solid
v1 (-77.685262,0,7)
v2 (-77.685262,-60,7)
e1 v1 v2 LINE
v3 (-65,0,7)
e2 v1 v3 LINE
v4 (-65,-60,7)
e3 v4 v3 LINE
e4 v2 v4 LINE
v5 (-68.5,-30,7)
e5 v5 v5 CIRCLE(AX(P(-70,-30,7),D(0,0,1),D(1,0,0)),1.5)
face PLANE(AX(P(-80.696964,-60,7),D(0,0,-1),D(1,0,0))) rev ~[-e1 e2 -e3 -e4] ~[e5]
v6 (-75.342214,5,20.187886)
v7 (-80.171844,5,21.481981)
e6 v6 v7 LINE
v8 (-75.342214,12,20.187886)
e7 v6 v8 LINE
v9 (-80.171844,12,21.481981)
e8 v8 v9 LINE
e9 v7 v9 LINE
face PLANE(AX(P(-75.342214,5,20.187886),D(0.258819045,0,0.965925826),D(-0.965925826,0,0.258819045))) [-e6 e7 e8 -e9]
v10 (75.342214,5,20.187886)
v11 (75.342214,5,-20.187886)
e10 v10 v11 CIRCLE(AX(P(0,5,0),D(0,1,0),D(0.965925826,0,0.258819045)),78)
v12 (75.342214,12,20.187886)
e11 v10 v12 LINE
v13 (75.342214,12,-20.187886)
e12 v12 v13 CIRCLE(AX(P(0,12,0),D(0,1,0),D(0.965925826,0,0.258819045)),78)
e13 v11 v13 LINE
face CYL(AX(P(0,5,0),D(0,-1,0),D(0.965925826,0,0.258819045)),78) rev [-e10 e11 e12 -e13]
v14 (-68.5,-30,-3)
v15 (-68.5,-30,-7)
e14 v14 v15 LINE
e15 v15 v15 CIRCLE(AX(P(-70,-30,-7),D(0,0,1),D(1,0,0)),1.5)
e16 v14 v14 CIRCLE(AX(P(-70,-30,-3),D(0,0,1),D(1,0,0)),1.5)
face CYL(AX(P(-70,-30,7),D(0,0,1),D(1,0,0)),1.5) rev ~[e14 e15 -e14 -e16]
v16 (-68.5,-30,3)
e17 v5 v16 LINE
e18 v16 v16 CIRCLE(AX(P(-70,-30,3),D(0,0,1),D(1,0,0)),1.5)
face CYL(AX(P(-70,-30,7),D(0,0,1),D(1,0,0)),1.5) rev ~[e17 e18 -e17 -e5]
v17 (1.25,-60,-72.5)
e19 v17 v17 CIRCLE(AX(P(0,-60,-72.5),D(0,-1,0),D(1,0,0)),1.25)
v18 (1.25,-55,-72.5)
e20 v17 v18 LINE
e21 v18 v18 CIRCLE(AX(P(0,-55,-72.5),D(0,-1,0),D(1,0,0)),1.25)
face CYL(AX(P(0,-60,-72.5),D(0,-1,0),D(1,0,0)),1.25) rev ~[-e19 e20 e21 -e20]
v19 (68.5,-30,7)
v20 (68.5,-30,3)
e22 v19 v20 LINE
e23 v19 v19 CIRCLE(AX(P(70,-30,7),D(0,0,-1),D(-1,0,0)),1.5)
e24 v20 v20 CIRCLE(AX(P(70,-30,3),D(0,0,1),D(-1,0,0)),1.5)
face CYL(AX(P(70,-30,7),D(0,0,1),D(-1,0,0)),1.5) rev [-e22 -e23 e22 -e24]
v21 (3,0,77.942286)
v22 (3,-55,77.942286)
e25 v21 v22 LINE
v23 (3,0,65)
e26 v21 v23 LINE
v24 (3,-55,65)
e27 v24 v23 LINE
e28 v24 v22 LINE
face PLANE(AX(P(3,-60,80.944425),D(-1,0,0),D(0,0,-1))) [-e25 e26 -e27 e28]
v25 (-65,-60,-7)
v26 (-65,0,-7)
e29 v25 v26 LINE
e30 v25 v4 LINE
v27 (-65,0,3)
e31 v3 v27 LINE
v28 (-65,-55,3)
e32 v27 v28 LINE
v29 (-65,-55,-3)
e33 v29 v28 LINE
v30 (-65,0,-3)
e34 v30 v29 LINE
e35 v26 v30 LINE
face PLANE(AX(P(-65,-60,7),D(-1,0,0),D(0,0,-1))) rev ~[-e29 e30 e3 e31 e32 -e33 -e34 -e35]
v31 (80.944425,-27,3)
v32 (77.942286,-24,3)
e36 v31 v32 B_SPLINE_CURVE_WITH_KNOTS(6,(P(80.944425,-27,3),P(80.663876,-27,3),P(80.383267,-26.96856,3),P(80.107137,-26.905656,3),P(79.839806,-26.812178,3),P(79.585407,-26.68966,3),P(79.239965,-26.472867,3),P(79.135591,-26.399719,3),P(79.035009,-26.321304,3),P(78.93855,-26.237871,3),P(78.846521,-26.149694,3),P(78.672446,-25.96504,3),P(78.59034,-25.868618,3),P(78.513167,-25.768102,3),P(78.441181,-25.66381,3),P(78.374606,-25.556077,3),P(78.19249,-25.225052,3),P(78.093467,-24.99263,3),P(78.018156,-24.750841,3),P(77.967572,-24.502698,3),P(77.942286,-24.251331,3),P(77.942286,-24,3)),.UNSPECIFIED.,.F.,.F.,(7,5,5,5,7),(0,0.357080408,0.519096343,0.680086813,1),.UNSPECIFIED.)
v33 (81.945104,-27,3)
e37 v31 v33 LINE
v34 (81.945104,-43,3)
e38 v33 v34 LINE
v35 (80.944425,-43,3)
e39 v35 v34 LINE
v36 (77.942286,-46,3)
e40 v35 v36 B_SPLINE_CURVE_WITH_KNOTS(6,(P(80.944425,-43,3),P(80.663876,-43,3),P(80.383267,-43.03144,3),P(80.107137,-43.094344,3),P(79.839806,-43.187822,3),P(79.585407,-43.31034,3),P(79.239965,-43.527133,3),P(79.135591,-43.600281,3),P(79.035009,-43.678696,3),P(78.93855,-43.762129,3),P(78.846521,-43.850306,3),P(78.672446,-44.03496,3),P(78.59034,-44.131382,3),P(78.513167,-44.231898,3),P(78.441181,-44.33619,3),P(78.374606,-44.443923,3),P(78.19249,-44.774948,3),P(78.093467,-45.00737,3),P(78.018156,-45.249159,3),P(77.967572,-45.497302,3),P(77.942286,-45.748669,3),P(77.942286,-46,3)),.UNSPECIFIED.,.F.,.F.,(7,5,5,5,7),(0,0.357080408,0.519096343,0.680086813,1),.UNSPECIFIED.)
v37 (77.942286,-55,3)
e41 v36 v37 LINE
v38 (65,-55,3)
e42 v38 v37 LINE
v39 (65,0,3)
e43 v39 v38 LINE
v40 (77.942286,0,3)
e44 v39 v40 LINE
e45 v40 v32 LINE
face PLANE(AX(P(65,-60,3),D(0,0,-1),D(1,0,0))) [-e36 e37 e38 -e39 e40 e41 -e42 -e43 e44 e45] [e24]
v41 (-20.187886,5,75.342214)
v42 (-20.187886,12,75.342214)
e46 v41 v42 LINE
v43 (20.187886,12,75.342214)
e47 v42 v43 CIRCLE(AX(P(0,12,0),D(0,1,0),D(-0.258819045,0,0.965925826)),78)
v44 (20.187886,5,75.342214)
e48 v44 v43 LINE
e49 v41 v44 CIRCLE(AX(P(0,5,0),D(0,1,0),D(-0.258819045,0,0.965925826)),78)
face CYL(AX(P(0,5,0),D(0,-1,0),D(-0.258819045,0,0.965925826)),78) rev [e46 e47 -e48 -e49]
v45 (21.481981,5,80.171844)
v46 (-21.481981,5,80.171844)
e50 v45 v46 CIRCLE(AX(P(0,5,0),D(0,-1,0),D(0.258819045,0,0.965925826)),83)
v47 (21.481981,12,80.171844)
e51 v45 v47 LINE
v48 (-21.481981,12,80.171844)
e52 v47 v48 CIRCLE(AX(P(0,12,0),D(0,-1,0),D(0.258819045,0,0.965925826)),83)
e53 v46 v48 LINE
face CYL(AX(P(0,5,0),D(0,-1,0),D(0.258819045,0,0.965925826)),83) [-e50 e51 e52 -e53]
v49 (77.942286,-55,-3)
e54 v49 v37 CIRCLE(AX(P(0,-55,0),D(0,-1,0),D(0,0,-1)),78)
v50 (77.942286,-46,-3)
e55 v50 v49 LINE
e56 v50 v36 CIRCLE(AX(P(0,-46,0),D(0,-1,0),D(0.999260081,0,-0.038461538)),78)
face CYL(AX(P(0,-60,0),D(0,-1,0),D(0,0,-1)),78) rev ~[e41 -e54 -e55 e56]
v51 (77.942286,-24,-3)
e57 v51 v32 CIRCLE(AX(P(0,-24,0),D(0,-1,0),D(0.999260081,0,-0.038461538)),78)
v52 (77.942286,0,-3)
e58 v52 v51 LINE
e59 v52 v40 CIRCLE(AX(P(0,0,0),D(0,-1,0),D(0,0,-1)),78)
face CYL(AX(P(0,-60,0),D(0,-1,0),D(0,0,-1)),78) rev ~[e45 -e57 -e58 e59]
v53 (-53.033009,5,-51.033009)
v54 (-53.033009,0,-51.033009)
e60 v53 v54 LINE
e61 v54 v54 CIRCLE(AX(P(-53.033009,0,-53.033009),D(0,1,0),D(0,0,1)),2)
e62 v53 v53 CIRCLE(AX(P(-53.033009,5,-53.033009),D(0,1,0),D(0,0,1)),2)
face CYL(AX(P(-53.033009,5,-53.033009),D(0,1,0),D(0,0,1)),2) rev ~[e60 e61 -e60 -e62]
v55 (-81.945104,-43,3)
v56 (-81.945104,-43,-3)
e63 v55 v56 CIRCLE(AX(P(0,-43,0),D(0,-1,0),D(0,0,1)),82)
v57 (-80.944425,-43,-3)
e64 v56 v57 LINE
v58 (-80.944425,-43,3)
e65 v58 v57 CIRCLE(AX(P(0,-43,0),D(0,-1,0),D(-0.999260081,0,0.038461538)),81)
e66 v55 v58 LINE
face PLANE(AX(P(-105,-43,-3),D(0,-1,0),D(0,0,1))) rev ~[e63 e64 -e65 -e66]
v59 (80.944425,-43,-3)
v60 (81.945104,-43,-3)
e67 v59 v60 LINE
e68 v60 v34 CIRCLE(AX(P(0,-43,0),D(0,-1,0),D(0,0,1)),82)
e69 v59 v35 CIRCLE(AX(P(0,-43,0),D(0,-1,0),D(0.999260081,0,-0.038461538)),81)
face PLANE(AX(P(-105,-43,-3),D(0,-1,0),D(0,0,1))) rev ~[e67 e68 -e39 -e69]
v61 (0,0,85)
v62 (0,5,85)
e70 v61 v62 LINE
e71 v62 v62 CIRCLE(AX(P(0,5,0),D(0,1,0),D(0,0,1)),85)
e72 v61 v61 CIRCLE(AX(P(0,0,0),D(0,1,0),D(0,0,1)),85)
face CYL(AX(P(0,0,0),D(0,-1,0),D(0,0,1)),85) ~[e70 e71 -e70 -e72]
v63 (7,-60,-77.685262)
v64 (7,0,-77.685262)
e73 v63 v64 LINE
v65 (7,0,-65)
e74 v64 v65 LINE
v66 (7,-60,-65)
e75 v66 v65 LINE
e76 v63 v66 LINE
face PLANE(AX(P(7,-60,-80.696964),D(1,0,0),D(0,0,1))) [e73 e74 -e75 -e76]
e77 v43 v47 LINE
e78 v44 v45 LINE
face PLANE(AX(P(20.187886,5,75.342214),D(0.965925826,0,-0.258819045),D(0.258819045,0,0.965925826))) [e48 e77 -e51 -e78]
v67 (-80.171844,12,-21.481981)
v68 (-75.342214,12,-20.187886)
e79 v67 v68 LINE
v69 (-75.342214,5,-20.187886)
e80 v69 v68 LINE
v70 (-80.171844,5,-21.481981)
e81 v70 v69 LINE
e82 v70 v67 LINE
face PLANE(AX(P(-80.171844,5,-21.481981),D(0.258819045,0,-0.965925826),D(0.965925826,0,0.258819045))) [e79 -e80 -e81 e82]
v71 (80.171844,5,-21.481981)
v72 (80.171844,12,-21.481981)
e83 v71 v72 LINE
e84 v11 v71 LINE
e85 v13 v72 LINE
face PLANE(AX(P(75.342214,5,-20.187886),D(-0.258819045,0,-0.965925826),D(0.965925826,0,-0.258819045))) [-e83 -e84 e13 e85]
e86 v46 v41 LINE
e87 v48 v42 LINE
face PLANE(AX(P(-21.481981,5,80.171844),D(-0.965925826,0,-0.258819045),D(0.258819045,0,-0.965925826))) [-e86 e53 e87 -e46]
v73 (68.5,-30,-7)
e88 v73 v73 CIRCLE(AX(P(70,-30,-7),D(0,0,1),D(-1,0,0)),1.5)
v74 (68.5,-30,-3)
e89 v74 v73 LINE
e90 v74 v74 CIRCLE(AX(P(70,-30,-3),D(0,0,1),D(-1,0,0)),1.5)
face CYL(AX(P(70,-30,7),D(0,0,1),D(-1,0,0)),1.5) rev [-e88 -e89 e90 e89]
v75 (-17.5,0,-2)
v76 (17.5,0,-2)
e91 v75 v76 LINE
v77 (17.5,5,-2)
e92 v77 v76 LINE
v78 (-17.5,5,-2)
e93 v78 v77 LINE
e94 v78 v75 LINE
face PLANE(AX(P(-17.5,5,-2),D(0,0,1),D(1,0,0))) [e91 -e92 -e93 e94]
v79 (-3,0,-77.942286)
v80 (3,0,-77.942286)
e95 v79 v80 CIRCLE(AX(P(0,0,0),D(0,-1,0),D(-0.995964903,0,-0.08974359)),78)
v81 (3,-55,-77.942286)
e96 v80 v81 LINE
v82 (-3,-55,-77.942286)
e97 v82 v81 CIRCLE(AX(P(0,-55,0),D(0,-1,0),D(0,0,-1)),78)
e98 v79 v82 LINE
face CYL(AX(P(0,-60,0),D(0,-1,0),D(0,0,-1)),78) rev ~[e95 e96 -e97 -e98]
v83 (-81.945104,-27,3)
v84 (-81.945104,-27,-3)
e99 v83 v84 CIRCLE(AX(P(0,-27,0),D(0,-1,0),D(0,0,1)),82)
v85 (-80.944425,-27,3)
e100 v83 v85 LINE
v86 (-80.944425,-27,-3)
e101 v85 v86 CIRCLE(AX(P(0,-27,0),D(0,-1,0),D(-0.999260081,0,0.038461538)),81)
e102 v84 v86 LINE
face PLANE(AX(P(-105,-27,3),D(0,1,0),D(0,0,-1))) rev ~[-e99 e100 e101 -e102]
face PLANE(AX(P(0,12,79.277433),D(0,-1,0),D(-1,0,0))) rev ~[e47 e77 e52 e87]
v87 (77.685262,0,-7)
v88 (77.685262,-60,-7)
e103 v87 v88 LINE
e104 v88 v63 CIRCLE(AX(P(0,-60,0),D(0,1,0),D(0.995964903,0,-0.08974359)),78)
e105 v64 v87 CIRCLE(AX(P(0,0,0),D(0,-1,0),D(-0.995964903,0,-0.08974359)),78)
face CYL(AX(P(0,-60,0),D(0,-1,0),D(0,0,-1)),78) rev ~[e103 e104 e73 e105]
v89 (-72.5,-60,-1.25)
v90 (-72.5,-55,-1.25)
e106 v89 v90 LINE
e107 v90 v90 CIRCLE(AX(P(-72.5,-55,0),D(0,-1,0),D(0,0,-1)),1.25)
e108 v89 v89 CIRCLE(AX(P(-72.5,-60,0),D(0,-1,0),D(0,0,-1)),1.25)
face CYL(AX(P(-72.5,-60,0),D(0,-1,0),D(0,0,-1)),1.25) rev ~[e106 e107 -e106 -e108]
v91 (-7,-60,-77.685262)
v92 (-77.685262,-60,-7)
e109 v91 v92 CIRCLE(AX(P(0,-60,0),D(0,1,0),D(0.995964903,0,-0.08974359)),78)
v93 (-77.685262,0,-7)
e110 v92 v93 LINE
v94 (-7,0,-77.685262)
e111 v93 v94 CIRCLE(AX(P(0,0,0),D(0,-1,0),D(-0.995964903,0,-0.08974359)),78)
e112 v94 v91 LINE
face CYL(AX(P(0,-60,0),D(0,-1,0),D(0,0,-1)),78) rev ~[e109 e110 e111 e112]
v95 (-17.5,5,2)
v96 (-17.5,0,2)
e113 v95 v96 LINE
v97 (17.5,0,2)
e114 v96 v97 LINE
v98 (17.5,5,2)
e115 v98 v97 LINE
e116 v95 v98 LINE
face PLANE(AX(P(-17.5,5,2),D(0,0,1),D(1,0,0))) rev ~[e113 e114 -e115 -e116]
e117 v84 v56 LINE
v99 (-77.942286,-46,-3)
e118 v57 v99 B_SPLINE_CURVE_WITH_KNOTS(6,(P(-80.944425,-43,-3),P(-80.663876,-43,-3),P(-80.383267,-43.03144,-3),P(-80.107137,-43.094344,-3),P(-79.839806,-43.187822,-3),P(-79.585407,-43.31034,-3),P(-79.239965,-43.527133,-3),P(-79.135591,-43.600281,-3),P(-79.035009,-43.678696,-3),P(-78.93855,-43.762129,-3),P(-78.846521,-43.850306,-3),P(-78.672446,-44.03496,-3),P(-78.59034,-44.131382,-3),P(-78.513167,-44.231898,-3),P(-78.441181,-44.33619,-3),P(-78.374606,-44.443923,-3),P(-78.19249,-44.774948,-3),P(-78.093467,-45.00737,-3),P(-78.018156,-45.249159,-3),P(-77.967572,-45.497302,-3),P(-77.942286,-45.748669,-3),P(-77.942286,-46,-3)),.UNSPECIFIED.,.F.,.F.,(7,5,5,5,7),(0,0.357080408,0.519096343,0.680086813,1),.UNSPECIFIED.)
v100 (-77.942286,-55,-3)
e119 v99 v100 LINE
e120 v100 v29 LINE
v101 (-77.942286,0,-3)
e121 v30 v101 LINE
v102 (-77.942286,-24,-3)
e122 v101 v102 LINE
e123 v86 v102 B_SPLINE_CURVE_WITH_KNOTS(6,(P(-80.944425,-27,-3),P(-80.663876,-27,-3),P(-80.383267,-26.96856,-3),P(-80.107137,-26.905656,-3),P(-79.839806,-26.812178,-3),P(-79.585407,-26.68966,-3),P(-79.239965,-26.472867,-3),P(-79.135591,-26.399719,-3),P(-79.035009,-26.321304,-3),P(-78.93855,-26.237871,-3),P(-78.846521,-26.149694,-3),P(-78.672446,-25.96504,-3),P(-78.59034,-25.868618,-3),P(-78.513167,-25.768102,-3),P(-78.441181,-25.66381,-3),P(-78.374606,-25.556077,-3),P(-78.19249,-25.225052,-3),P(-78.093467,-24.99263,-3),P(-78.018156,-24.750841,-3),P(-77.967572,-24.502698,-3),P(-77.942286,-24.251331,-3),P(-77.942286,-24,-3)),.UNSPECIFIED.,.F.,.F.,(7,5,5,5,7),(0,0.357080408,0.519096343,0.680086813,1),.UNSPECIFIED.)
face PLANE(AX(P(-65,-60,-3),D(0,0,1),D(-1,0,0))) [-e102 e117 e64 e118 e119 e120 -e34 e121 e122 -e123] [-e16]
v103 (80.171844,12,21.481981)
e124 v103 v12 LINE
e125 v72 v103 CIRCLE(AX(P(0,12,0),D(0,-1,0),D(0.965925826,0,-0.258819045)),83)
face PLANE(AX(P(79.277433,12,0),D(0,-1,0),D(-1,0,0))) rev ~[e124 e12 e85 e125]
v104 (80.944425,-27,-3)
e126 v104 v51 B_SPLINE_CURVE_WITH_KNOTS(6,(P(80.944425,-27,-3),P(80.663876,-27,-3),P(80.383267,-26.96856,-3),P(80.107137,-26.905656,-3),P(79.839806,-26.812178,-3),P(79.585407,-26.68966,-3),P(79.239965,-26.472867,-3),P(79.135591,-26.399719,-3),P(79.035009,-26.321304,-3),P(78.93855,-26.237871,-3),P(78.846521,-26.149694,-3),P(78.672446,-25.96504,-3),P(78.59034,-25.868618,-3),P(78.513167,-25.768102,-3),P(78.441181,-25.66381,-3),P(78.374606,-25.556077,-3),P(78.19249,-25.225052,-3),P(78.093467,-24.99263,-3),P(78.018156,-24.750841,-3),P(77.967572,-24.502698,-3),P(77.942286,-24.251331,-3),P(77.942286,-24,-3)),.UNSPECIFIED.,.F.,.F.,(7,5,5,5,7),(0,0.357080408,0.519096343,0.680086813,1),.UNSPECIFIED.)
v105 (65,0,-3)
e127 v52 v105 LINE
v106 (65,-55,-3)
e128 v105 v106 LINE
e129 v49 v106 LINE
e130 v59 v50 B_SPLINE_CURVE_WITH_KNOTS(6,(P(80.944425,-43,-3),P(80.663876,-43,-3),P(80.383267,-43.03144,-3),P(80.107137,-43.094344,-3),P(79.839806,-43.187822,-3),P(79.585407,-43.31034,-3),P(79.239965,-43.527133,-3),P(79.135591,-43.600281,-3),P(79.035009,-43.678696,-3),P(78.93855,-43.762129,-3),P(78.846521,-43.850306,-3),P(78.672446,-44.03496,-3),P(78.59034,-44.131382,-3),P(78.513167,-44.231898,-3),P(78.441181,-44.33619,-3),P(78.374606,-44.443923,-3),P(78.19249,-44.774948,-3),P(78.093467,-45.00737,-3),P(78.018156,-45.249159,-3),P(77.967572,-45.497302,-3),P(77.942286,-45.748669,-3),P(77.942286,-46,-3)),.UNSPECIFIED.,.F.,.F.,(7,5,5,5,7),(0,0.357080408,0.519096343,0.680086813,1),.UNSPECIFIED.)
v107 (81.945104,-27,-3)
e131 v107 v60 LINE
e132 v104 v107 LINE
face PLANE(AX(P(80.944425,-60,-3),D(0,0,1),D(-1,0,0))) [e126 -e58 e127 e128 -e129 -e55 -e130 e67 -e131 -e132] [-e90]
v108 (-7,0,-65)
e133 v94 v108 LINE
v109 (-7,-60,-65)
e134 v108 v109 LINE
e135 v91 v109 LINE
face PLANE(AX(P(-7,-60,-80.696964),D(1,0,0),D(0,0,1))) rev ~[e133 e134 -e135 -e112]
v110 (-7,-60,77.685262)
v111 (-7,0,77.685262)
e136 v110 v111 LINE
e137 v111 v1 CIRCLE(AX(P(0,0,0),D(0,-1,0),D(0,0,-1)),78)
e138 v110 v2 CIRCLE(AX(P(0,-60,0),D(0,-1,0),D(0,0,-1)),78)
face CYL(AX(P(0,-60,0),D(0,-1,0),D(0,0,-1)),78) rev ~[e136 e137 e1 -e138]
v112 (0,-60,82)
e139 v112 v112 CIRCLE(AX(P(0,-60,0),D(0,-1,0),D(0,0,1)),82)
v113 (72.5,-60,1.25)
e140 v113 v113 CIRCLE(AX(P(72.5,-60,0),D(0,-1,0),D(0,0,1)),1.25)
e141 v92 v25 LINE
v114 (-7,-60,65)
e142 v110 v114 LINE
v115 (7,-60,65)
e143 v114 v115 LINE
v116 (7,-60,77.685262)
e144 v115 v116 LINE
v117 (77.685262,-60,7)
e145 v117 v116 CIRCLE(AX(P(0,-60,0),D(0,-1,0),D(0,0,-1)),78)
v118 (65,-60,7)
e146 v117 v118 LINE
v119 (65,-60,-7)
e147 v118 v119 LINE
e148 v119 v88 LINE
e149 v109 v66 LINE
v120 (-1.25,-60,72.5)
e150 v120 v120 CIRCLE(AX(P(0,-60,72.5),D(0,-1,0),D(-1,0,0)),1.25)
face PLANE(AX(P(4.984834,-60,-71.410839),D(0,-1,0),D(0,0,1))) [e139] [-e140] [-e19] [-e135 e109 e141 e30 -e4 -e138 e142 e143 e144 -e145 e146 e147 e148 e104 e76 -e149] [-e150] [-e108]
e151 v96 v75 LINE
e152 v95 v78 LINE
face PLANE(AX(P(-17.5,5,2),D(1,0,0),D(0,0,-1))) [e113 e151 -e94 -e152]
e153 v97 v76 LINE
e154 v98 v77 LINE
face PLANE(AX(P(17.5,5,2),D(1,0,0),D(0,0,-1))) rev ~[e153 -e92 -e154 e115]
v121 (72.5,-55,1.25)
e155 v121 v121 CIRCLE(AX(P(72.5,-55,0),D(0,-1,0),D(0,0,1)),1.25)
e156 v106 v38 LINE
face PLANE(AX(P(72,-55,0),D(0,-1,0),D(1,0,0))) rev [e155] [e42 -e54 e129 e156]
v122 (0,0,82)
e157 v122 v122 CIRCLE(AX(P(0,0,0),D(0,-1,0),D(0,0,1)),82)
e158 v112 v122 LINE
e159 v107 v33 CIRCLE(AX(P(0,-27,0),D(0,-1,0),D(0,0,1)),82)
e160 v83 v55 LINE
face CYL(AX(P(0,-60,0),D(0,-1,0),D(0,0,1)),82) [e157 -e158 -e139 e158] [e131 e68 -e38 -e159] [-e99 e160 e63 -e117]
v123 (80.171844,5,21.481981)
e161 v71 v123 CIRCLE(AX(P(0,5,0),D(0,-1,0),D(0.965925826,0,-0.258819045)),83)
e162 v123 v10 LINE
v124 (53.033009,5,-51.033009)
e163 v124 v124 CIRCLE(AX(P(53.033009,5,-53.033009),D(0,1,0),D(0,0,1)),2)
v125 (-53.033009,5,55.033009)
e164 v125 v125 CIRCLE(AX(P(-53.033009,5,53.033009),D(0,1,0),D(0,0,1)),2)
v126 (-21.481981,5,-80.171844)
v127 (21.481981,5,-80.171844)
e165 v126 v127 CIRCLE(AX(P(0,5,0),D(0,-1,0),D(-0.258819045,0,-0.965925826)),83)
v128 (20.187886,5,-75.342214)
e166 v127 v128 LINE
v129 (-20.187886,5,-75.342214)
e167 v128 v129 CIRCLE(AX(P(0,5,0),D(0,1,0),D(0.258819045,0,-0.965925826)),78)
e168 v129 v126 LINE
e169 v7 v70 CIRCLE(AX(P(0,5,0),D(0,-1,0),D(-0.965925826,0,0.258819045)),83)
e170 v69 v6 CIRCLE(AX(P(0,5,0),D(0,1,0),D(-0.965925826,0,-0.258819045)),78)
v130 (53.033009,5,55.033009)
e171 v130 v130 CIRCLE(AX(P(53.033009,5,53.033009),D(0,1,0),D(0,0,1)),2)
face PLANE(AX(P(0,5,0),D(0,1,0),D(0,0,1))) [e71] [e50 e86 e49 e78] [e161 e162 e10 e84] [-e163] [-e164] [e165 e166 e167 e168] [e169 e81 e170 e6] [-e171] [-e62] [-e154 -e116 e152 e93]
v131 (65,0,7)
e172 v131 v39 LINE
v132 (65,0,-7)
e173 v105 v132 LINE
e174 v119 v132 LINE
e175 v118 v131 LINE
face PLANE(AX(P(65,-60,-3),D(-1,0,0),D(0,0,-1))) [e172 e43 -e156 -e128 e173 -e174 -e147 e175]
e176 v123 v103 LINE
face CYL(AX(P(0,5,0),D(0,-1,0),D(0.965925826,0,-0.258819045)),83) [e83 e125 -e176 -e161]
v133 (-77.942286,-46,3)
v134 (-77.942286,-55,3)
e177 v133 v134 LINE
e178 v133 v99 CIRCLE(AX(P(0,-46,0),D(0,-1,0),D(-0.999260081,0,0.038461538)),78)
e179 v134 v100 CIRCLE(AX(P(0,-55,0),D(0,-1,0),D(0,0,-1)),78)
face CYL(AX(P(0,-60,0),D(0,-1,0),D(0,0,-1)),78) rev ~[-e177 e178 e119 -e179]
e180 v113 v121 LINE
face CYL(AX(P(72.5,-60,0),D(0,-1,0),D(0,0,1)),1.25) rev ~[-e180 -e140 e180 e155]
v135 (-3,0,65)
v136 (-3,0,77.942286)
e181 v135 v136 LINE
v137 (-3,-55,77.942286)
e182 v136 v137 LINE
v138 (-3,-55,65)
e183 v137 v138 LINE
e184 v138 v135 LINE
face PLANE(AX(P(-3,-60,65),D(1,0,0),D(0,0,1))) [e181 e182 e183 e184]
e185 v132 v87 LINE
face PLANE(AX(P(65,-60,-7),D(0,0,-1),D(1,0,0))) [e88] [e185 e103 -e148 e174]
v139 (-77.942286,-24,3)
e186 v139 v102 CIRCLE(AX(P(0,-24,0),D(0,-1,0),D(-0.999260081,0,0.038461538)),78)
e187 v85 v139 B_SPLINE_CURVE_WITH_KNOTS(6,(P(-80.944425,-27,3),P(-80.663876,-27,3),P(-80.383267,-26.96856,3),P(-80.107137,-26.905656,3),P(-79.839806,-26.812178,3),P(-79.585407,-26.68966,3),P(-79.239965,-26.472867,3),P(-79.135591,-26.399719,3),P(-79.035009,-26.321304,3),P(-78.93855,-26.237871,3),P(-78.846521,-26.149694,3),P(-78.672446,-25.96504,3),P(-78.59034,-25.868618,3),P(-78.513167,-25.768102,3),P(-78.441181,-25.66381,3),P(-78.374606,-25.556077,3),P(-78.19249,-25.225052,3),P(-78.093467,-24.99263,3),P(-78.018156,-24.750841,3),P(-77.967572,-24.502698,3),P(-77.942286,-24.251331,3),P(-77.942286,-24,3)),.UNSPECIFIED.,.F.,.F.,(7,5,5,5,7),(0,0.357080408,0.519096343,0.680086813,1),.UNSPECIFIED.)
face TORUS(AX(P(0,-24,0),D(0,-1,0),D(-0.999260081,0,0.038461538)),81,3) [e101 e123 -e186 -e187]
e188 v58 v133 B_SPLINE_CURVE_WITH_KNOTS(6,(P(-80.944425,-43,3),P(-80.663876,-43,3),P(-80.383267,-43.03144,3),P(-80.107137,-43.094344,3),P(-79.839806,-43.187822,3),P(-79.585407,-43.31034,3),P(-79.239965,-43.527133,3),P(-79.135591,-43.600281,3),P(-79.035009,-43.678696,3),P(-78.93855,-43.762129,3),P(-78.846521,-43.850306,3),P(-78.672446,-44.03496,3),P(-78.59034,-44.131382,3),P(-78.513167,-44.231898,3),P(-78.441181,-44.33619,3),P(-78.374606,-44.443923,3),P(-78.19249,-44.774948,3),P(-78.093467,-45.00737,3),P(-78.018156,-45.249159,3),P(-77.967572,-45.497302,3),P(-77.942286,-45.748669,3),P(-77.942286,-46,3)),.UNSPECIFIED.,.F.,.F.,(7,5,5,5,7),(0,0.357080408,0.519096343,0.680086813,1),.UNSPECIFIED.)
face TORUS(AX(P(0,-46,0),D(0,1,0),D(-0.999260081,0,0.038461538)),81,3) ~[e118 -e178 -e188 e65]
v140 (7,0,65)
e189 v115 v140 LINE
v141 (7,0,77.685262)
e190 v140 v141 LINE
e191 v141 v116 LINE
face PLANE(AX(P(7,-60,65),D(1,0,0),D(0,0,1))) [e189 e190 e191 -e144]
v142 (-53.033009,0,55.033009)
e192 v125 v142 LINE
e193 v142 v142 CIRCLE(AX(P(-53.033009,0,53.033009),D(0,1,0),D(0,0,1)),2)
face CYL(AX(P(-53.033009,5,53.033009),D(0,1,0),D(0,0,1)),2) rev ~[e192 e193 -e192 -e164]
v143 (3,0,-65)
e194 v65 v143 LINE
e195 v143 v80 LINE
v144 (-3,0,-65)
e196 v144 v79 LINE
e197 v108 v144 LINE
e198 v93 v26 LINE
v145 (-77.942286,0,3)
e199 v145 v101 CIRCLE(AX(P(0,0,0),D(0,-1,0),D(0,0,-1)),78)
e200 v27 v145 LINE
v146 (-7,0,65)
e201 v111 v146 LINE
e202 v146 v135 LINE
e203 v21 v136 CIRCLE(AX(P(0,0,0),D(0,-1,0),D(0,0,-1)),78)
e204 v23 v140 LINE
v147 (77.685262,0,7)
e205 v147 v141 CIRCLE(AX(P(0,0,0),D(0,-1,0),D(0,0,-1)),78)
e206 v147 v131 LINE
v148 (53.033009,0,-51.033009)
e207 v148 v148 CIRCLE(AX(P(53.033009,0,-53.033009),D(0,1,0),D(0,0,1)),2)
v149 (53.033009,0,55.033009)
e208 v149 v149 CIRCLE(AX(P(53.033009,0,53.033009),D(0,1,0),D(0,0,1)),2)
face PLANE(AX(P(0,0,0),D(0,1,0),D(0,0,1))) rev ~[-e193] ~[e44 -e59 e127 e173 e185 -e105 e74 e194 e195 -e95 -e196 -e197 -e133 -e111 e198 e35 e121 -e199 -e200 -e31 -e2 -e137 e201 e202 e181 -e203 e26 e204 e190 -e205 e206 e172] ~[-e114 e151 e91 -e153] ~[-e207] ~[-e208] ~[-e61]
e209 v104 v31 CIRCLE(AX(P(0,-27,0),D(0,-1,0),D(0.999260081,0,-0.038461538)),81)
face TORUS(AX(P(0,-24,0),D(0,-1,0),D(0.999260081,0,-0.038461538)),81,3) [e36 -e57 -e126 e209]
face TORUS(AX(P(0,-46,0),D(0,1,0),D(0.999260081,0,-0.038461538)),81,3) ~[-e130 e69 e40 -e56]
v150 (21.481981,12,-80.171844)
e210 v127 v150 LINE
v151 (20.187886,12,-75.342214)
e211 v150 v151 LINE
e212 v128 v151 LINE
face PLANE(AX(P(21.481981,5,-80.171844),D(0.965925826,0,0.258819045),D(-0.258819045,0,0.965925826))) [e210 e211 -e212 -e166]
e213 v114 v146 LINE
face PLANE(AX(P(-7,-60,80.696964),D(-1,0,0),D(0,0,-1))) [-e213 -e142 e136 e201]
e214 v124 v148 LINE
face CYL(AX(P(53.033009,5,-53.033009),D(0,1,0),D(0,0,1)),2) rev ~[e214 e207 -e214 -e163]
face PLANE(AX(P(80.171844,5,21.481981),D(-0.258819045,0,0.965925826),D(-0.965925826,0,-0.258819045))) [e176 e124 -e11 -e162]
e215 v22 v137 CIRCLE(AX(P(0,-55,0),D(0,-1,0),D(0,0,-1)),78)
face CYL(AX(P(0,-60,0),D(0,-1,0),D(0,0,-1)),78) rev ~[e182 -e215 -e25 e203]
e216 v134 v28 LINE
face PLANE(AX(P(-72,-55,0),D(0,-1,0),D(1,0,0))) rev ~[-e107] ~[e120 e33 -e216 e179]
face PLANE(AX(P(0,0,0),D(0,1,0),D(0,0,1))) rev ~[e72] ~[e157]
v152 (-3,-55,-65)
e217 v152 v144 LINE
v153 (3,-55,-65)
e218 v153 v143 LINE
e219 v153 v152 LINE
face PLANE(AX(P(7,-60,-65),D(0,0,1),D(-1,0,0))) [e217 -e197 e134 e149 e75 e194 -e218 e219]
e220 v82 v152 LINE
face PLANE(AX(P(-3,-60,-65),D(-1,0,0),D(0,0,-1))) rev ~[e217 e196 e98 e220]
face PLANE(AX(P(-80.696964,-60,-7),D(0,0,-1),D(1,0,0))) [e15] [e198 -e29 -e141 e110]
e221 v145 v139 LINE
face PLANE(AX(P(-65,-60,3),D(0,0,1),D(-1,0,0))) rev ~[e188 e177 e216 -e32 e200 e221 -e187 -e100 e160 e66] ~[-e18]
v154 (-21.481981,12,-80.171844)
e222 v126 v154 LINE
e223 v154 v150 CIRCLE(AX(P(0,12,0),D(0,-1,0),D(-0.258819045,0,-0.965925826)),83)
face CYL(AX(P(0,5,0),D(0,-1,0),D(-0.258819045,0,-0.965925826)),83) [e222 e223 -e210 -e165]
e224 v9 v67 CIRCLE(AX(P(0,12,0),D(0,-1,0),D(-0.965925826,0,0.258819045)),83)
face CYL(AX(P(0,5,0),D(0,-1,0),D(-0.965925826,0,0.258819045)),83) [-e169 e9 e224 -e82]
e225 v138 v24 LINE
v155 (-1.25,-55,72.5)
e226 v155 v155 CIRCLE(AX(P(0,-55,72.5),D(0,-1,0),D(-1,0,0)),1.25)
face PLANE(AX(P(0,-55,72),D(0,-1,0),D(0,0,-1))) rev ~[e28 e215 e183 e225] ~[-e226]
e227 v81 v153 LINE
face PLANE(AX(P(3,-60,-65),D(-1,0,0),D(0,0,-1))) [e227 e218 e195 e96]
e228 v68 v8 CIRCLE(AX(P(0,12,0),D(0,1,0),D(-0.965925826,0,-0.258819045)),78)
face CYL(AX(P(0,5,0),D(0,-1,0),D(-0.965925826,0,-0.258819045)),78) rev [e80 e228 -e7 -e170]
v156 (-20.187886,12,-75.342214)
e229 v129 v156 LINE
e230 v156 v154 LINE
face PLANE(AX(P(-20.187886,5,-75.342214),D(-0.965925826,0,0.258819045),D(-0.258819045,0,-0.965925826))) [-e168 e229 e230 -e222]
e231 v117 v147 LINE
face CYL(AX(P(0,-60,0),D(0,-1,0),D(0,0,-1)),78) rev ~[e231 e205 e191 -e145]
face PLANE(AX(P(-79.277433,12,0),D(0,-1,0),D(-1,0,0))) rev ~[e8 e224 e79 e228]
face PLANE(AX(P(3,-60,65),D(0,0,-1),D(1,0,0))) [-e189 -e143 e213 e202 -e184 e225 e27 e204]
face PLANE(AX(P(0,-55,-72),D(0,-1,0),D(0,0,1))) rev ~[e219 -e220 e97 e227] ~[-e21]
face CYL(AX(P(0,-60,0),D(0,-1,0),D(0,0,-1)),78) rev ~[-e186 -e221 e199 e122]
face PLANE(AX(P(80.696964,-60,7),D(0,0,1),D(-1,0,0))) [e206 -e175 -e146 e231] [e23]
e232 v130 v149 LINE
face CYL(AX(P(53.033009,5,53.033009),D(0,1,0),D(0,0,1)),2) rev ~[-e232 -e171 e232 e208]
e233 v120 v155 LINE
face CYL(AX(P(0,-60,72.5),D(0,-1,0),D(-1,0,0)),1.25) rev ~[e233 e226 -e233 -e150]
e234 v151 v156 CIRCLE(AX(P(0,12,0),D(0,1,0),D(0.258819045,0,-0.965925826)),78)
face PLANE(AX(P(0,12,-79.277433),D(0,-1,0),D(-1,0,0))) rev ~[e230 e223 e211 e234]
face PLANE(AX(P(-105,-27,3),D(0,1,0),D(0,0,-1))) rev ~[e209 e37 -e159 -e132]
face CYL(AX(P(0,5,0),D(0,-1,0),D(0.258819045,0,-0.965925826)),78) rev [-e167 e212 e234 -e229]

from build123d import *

# Parameters (mm, degrees)
SKETCH1_R                   = 85
BOSS_EXTRUDE1_DEPTH         = 5
SKETCH14_R                  = 2
CUT_EXTRUDE2_DEPTH          = 133
SKETCH16_W                  = 35
SKETCH16_H                  = 4
CUT_EXTRUDE4_DEPTH          = 10
BOSS_EXTRUDE2_DEPTH         = 7
BOSS_EXTRUDE3_START         = 60
SKETCH20_R                  = 82
SKETCH20_R_2                = 78
BOSS_EXTRUDE3_DEPTH         = 60
BOSS_EXTRUDE4_START         = 60
BOSS_EXTRUDE4_DEPTH         = 60
SKETCH23_R                  = 1.5
CUT_EXTRUDE5_DEPTH          = 25
CUT_EXTRUDE6_DEPTH          = 110
CUT_EXTRUDE6_DEPTH_BACK     = 105
FILLET1_R                   = 3
SKETCH27_W                  = 14
SKETCH27_H                  = 14
BOSS_EXTRUDE5_DEPTH         = 5
CIRPATTERN1_COUNT           = 2
CIRPATTERN1_ANGLE           = 90
CIRPATTERN1_COPY_1_SKETCH_W = 14
CIRPATTERN1_COPY_1_SKETCH_H = 14
CIRPATTERN1_COPY_1_DEPTH    = 5
SKETCH29_R                  = 1.25
CUT_EXTRUDE7_DEPTH          = 5
CIRPATTERN2_COUNT           = 4


with BuildPart() as part:
    # Sketch1 → Boss-Extrude1 (new body)
    with BuildSketch(Plane(origin=(0, 0, 0), x_dir=(1, 0, 0), z_dir=(0, 1, 0))):
        with Locations(Location((0, 0, 0), (0, 0, 270))):
            Circle(SKETCH1_R)
    extrude(amount=BOSS_EXTRUDE1_DEPTH)

    # Sketch14 → Cut-Extrude2 (cut)
    with BuildSketch(Plane(origin=(0, 5, 0), x_dir=(1, 0, 0), z_dir=(0, 1, 0))):
        with Locations(Location((-53.033008589, 53.033008589, 0), (0, 0, 270))):
            Circle(SKETCH14_R)
        with Locations(Location((53.033008589, 53.033008589, 0), (0, 0, 270))):
            Circle(SKETCH14_R)
        with Locations(Location((53.033008589, -53.033008589, 0), (0, 0, 270))):
            Circle(SKETCH14_R)
        with Locations(Location((-53.033008589, -53.033008589, 0), (0, 0, 270))):
            Circle(SKETCH14_R)
    extrude(amount=-CUT_EXTRUDE2_DEPTH, mode=Mode.SUBTRACT)

    # Sketch16 → Cut-Extrude4 (cut)
    with BuildSketch(Plane(origin=(0, 5, 0), x_dir=(1, 0, 0), z_dir=(0, 1, 0))):
        Rectangle(SKETCH16_W, SKETCH16_H)
    extrude(amount=-CUT_EXTRUDE4_DEPTH, mode=Mode.SUBTRACT)

    # Sketch19 → Boss-Extrude2 (add)
    with BuildSketch(Plane(origin=(0, 5, 0), x_dir=(1, 0, 0), z_dir=(0, 1, 0))):
        with BuildLine():
            Line((75.342214451, 20.187885518), (80.171843582, 21.481980744))
            ThreePointArc((80.171843582, 21.481980744), (83, 0), (80.171843582, -21.481980744))
            Line((80.171843582, -21.481980744), (75.342214451, -20.187885518))
            ThreePointArc((75.342214451, -20.187885518), (78, 0), (75.342214451, 20.187885518))
        make_face()
        with BuildLine():
            Line((20.187885518, -75.342214451), (21.481980744, -80.171843582))
            ThreePointArc((21.481980744, -80.171843582), (0, -83), (-21.481980744, -80.171843582))
            Line((-21.481980744, -80.171843582), (-20.187885518, -75.342214451))
            ThreePointArc((-20.187885518, -75.342214451), (0, -78), (20.187885518, -75.342214451))
        make_face()
        with BuildLine():
            Line((-75.342214451, -20.187885518), (-80.171843582, -21.481980744))
            ThreePointArc((-80.171843582, -21.481980744), (-83, 0), (-80.171843582, 21.481980744))
            Line((-80.171843582, 21.481980744), (-75.342214451, 20.187885518))
            ThreePointArc((-75.342214451, 20.187885518), (-78, 0), (-75.342214451, -20.187885518))
        make_face()
        with BuildLine():
            Line((-20.187885518, 75.342214451), (-21.481980744, 80.171843582))
            ThreePointArc((-21.481980744, 80.171843582), (0, 83), (21.481980744, 80.171843582))
            Line((21.481980744, 80.171843582), (20.187885518, 75.342214451))
            ThreePointArc((20.187885518, 75.342214451), (0, 78), (-20.187885518, 75.342214451))
        make_face()
    extrude(amount=BOSS_EXTRUDE2_DEPTH)

    # Sketch20 → Boss-Extrude3 (add)
    with BuildSketch(Plane.XZ.offset(BOSS_EXTRUDE3_START)):
        with Locations(Location((0, 0, 0), (0, 0, 90))):
            Circle(SKETCH20_R)
        with Locations(Location((0, 0, 0), (0, 0, 270))):
            Circle(SKETCH20_R_2, mode=Mode.SUBTRACT)
    extrude(amount=-BOSS_EXTRUDE3_DEPTH)

    # Sketch22 → Boss-Extrude4 (add)
    with BuildSketch(Plane.XZ.offset(BOSS_EXTRUDE4_START)):
        with BuildLine():
            Line((-65, -7), (-65, -3))
            Line((-65, -3), (-77.942286341, -3))
            ThreePointArc((-77.942286341, -3), (-77.839472536, -5.00165126), (-77.685262438, -7))
            Line((-77.685262438, -7), (-65, -7))
        make_face()
        with BuildLine():
            ThreePointArc((-77.685262438, -7), (-77.839472536, -5.00165126), (-77.942286341, -3))
            Line((-77.942286341, -3), (-80.944425379, -3))
            ThreePointArc((-80.944425379, -3), (-80.845437043, -5.001530694), (-80.696964007, -7))
            Line((-80.696964007, -7), (-77.685262438, -7))
        make_face()
        with BuildLine():
            ThreePointArc((77.685262438, 7), (77.839472536, 5.00165126), (77.942286341, 3))
            Line((77.942286341, 3), (80.944425379, 3))
            ThreePointArc((80.944425379, 3), (80.845437043, 5.001530694), (80.696964007, 7))
            Line((80.696964007, 7), (77.685262438, 7))
        make_face()
        with BuildLine():
            Line((65, 3), (77.942286341, 3))
            ThreePointArc((77.942286341, 3), (77.839472536, 5.00165126), (77.685262438, 7))
            Line((77.685262438, 7), (65, 7))
            Line((65, 7), (65, 3))
        make_face()
        with BuildLine():
            Line((77.942286341, -3), (65, -3))
            Line((65, -3), (65, -7))
            Line((65, -7), (77.685262438, -7))
            ThreePointArc((77.685262438, -7), (77.839472536, -5.00165126), (77.942286341, -3))
        make_face()
        with BuildLine():
            Line((80.944425379, -3), (77.942286341, -3))
            ThreePointArc((77.942286341, -3), (77.839472536, -5.00165126), (77.685262438, -7))
            Line((77.685262438, -7), (80.696964007, -7))
            ThreePointArc((80.696964007, -7), (80.845437043, -5.001530694), (80.944425379, -3))
        make_face()
        with BuildLine():
            Line((-80.696964007, 7), (-65, 7))
            Line((-65, 7), (-65, 3))
            Line((-65, 3), (-80.944425379, 3))
            ThreePointArc((-80.944425379, 3), (-80.845437043, 5.001530694), (-80.696964007, 7))
        make_face()
    boss_extrude4 = extrude(amount=-BOSS_EXTRUDE4_DEPTH)

    # Sketch23 → Cut-Extrude5 (cut)
    with BuildSketch(Plane.XY.offset(7)):
        with Locations((-70, -30)):
            Circle(SKETCH23_R)
    cut_extrude5 = extrude(amount=-CUT_EXTRUDE5_DEPTH, mode=Mode.SUBTRACT)

    # Mirror1: Cut-Extrude5 across plane
    add(cut_extrude5.mirror(Plane(origin=(0, 0, 0), x_dir=(0, 0, 1), z_dir=(1, 0, 0))), mode=Mode.SUBTRACT)

    # Sketch25 → Cut-Extrude6 (cut, two sides: drawn at the far end of the back side and taken through both)
    with BuildSketch(Plane(origin=(0, 0, 0), x_dir=(0, 0, -1), z_dir=(1, 0, 0)).offset(-CUT_EXTRUDE6_DEPTH_BACK)):
        Polygon((-3, -27), (3, -27), (3, -33), (3, -43), (-3, -43), (-3, -33), align=None)
    extrude(amount=CUT_EXTRUDE6_DEPTH + CUT_EXTRUDE6_DEPTH_BACK, mode=Mode.SUBTRACT)

    # Fillet1
    fillet1_edges = [part.edges().sort_by_distance(p)[0] for p in [
        (-78, -27, 0),
        (78, -27, 0),
        (-78, -43, 0),
        (78, -43, 0),
    ]]
    fillet(fillet1_edges, radius=FILLET1_R)

    # Sketch27 → Boss-Extrude5 (add)
    with BuildSketch(Plane.XZ.offset(60)):
        with Locations((-72, 0)):
            Rectangle(SKETCH27_W, SKETCH27_H)
    boss_extrude5 = extrude(amount=-BOSS_EXTRUDE5_DEPTH)

    # Mirror2: Boss-Extrude5 across plane
    add(boss_extrude5.mirror(Plane(origin=(0, 0, 0), x_dir=(0, 0, 1), z_dir=(1, 0, 0))))

    # CirPattern1: Boss-Extrude4, Boss-Extrude5 ×2 about axis
    cirpattern1_axis = Axis((0, 0, 0), (0, -1, 0))
    add([boss_extrude4.rotate(cirpattern1_axis, i * CIRPATTERN1_ANGLE / (CIRPATTERN1_COUNT - 1)) for i in range(1, CIRPATTERN1_COUNT)])
    add([boss_extrude5.rotate(cirpattern1_axis, i * CIRPATTERN1_ANGLE / (CIRPATTERN1_COUNT - 1)) for i in range(1, CIRPATTERN1_COUNT)])

    # CirPattern1 copy 1 sketch → CirPattern1 copy 1 (add)
    with BuildSketch(Plane(origin=(0, -60, 0), x_dir=(0, 0, -1), z_dir=(0, -1, 0))):
        with Locations((-72, 0)):
            Rectangle(CIRPATTERN1_COPY_1_SKETCH_W, CIRPATTERN1_COPY_1_SKETCH_H)
    extrude(amount=-CIRPATTERN1_COPY_1_DEPTH)

    # Sketch29 → Cut-Extrude7 (cut)
    with BuildSketch(Plane.XZ.offset(60)):
        with Locations(Location((-72.5, 0, 0), (0, 0, 270))):
            Circle(SKETCH29_R)
    cut_extrude7 = extrude(amount=-CUT_EXTRUDE7_DEPTH, mode=Mode.SUBTRACT)

    # CirPattern2: Cut-Extrude7 ×4 about axis
    cirpattern2_axis = Axis((0, 0, 0), (0, 1, 0))
    for i in range(1, CIRPATTERN2_COUNT):
        add(cut_extrude7.rotate(cirpattern2_axis, i * 360 / CIRPATTERN2_COUNT), mode=Mode.SUBTRACT)


solid = part.part
